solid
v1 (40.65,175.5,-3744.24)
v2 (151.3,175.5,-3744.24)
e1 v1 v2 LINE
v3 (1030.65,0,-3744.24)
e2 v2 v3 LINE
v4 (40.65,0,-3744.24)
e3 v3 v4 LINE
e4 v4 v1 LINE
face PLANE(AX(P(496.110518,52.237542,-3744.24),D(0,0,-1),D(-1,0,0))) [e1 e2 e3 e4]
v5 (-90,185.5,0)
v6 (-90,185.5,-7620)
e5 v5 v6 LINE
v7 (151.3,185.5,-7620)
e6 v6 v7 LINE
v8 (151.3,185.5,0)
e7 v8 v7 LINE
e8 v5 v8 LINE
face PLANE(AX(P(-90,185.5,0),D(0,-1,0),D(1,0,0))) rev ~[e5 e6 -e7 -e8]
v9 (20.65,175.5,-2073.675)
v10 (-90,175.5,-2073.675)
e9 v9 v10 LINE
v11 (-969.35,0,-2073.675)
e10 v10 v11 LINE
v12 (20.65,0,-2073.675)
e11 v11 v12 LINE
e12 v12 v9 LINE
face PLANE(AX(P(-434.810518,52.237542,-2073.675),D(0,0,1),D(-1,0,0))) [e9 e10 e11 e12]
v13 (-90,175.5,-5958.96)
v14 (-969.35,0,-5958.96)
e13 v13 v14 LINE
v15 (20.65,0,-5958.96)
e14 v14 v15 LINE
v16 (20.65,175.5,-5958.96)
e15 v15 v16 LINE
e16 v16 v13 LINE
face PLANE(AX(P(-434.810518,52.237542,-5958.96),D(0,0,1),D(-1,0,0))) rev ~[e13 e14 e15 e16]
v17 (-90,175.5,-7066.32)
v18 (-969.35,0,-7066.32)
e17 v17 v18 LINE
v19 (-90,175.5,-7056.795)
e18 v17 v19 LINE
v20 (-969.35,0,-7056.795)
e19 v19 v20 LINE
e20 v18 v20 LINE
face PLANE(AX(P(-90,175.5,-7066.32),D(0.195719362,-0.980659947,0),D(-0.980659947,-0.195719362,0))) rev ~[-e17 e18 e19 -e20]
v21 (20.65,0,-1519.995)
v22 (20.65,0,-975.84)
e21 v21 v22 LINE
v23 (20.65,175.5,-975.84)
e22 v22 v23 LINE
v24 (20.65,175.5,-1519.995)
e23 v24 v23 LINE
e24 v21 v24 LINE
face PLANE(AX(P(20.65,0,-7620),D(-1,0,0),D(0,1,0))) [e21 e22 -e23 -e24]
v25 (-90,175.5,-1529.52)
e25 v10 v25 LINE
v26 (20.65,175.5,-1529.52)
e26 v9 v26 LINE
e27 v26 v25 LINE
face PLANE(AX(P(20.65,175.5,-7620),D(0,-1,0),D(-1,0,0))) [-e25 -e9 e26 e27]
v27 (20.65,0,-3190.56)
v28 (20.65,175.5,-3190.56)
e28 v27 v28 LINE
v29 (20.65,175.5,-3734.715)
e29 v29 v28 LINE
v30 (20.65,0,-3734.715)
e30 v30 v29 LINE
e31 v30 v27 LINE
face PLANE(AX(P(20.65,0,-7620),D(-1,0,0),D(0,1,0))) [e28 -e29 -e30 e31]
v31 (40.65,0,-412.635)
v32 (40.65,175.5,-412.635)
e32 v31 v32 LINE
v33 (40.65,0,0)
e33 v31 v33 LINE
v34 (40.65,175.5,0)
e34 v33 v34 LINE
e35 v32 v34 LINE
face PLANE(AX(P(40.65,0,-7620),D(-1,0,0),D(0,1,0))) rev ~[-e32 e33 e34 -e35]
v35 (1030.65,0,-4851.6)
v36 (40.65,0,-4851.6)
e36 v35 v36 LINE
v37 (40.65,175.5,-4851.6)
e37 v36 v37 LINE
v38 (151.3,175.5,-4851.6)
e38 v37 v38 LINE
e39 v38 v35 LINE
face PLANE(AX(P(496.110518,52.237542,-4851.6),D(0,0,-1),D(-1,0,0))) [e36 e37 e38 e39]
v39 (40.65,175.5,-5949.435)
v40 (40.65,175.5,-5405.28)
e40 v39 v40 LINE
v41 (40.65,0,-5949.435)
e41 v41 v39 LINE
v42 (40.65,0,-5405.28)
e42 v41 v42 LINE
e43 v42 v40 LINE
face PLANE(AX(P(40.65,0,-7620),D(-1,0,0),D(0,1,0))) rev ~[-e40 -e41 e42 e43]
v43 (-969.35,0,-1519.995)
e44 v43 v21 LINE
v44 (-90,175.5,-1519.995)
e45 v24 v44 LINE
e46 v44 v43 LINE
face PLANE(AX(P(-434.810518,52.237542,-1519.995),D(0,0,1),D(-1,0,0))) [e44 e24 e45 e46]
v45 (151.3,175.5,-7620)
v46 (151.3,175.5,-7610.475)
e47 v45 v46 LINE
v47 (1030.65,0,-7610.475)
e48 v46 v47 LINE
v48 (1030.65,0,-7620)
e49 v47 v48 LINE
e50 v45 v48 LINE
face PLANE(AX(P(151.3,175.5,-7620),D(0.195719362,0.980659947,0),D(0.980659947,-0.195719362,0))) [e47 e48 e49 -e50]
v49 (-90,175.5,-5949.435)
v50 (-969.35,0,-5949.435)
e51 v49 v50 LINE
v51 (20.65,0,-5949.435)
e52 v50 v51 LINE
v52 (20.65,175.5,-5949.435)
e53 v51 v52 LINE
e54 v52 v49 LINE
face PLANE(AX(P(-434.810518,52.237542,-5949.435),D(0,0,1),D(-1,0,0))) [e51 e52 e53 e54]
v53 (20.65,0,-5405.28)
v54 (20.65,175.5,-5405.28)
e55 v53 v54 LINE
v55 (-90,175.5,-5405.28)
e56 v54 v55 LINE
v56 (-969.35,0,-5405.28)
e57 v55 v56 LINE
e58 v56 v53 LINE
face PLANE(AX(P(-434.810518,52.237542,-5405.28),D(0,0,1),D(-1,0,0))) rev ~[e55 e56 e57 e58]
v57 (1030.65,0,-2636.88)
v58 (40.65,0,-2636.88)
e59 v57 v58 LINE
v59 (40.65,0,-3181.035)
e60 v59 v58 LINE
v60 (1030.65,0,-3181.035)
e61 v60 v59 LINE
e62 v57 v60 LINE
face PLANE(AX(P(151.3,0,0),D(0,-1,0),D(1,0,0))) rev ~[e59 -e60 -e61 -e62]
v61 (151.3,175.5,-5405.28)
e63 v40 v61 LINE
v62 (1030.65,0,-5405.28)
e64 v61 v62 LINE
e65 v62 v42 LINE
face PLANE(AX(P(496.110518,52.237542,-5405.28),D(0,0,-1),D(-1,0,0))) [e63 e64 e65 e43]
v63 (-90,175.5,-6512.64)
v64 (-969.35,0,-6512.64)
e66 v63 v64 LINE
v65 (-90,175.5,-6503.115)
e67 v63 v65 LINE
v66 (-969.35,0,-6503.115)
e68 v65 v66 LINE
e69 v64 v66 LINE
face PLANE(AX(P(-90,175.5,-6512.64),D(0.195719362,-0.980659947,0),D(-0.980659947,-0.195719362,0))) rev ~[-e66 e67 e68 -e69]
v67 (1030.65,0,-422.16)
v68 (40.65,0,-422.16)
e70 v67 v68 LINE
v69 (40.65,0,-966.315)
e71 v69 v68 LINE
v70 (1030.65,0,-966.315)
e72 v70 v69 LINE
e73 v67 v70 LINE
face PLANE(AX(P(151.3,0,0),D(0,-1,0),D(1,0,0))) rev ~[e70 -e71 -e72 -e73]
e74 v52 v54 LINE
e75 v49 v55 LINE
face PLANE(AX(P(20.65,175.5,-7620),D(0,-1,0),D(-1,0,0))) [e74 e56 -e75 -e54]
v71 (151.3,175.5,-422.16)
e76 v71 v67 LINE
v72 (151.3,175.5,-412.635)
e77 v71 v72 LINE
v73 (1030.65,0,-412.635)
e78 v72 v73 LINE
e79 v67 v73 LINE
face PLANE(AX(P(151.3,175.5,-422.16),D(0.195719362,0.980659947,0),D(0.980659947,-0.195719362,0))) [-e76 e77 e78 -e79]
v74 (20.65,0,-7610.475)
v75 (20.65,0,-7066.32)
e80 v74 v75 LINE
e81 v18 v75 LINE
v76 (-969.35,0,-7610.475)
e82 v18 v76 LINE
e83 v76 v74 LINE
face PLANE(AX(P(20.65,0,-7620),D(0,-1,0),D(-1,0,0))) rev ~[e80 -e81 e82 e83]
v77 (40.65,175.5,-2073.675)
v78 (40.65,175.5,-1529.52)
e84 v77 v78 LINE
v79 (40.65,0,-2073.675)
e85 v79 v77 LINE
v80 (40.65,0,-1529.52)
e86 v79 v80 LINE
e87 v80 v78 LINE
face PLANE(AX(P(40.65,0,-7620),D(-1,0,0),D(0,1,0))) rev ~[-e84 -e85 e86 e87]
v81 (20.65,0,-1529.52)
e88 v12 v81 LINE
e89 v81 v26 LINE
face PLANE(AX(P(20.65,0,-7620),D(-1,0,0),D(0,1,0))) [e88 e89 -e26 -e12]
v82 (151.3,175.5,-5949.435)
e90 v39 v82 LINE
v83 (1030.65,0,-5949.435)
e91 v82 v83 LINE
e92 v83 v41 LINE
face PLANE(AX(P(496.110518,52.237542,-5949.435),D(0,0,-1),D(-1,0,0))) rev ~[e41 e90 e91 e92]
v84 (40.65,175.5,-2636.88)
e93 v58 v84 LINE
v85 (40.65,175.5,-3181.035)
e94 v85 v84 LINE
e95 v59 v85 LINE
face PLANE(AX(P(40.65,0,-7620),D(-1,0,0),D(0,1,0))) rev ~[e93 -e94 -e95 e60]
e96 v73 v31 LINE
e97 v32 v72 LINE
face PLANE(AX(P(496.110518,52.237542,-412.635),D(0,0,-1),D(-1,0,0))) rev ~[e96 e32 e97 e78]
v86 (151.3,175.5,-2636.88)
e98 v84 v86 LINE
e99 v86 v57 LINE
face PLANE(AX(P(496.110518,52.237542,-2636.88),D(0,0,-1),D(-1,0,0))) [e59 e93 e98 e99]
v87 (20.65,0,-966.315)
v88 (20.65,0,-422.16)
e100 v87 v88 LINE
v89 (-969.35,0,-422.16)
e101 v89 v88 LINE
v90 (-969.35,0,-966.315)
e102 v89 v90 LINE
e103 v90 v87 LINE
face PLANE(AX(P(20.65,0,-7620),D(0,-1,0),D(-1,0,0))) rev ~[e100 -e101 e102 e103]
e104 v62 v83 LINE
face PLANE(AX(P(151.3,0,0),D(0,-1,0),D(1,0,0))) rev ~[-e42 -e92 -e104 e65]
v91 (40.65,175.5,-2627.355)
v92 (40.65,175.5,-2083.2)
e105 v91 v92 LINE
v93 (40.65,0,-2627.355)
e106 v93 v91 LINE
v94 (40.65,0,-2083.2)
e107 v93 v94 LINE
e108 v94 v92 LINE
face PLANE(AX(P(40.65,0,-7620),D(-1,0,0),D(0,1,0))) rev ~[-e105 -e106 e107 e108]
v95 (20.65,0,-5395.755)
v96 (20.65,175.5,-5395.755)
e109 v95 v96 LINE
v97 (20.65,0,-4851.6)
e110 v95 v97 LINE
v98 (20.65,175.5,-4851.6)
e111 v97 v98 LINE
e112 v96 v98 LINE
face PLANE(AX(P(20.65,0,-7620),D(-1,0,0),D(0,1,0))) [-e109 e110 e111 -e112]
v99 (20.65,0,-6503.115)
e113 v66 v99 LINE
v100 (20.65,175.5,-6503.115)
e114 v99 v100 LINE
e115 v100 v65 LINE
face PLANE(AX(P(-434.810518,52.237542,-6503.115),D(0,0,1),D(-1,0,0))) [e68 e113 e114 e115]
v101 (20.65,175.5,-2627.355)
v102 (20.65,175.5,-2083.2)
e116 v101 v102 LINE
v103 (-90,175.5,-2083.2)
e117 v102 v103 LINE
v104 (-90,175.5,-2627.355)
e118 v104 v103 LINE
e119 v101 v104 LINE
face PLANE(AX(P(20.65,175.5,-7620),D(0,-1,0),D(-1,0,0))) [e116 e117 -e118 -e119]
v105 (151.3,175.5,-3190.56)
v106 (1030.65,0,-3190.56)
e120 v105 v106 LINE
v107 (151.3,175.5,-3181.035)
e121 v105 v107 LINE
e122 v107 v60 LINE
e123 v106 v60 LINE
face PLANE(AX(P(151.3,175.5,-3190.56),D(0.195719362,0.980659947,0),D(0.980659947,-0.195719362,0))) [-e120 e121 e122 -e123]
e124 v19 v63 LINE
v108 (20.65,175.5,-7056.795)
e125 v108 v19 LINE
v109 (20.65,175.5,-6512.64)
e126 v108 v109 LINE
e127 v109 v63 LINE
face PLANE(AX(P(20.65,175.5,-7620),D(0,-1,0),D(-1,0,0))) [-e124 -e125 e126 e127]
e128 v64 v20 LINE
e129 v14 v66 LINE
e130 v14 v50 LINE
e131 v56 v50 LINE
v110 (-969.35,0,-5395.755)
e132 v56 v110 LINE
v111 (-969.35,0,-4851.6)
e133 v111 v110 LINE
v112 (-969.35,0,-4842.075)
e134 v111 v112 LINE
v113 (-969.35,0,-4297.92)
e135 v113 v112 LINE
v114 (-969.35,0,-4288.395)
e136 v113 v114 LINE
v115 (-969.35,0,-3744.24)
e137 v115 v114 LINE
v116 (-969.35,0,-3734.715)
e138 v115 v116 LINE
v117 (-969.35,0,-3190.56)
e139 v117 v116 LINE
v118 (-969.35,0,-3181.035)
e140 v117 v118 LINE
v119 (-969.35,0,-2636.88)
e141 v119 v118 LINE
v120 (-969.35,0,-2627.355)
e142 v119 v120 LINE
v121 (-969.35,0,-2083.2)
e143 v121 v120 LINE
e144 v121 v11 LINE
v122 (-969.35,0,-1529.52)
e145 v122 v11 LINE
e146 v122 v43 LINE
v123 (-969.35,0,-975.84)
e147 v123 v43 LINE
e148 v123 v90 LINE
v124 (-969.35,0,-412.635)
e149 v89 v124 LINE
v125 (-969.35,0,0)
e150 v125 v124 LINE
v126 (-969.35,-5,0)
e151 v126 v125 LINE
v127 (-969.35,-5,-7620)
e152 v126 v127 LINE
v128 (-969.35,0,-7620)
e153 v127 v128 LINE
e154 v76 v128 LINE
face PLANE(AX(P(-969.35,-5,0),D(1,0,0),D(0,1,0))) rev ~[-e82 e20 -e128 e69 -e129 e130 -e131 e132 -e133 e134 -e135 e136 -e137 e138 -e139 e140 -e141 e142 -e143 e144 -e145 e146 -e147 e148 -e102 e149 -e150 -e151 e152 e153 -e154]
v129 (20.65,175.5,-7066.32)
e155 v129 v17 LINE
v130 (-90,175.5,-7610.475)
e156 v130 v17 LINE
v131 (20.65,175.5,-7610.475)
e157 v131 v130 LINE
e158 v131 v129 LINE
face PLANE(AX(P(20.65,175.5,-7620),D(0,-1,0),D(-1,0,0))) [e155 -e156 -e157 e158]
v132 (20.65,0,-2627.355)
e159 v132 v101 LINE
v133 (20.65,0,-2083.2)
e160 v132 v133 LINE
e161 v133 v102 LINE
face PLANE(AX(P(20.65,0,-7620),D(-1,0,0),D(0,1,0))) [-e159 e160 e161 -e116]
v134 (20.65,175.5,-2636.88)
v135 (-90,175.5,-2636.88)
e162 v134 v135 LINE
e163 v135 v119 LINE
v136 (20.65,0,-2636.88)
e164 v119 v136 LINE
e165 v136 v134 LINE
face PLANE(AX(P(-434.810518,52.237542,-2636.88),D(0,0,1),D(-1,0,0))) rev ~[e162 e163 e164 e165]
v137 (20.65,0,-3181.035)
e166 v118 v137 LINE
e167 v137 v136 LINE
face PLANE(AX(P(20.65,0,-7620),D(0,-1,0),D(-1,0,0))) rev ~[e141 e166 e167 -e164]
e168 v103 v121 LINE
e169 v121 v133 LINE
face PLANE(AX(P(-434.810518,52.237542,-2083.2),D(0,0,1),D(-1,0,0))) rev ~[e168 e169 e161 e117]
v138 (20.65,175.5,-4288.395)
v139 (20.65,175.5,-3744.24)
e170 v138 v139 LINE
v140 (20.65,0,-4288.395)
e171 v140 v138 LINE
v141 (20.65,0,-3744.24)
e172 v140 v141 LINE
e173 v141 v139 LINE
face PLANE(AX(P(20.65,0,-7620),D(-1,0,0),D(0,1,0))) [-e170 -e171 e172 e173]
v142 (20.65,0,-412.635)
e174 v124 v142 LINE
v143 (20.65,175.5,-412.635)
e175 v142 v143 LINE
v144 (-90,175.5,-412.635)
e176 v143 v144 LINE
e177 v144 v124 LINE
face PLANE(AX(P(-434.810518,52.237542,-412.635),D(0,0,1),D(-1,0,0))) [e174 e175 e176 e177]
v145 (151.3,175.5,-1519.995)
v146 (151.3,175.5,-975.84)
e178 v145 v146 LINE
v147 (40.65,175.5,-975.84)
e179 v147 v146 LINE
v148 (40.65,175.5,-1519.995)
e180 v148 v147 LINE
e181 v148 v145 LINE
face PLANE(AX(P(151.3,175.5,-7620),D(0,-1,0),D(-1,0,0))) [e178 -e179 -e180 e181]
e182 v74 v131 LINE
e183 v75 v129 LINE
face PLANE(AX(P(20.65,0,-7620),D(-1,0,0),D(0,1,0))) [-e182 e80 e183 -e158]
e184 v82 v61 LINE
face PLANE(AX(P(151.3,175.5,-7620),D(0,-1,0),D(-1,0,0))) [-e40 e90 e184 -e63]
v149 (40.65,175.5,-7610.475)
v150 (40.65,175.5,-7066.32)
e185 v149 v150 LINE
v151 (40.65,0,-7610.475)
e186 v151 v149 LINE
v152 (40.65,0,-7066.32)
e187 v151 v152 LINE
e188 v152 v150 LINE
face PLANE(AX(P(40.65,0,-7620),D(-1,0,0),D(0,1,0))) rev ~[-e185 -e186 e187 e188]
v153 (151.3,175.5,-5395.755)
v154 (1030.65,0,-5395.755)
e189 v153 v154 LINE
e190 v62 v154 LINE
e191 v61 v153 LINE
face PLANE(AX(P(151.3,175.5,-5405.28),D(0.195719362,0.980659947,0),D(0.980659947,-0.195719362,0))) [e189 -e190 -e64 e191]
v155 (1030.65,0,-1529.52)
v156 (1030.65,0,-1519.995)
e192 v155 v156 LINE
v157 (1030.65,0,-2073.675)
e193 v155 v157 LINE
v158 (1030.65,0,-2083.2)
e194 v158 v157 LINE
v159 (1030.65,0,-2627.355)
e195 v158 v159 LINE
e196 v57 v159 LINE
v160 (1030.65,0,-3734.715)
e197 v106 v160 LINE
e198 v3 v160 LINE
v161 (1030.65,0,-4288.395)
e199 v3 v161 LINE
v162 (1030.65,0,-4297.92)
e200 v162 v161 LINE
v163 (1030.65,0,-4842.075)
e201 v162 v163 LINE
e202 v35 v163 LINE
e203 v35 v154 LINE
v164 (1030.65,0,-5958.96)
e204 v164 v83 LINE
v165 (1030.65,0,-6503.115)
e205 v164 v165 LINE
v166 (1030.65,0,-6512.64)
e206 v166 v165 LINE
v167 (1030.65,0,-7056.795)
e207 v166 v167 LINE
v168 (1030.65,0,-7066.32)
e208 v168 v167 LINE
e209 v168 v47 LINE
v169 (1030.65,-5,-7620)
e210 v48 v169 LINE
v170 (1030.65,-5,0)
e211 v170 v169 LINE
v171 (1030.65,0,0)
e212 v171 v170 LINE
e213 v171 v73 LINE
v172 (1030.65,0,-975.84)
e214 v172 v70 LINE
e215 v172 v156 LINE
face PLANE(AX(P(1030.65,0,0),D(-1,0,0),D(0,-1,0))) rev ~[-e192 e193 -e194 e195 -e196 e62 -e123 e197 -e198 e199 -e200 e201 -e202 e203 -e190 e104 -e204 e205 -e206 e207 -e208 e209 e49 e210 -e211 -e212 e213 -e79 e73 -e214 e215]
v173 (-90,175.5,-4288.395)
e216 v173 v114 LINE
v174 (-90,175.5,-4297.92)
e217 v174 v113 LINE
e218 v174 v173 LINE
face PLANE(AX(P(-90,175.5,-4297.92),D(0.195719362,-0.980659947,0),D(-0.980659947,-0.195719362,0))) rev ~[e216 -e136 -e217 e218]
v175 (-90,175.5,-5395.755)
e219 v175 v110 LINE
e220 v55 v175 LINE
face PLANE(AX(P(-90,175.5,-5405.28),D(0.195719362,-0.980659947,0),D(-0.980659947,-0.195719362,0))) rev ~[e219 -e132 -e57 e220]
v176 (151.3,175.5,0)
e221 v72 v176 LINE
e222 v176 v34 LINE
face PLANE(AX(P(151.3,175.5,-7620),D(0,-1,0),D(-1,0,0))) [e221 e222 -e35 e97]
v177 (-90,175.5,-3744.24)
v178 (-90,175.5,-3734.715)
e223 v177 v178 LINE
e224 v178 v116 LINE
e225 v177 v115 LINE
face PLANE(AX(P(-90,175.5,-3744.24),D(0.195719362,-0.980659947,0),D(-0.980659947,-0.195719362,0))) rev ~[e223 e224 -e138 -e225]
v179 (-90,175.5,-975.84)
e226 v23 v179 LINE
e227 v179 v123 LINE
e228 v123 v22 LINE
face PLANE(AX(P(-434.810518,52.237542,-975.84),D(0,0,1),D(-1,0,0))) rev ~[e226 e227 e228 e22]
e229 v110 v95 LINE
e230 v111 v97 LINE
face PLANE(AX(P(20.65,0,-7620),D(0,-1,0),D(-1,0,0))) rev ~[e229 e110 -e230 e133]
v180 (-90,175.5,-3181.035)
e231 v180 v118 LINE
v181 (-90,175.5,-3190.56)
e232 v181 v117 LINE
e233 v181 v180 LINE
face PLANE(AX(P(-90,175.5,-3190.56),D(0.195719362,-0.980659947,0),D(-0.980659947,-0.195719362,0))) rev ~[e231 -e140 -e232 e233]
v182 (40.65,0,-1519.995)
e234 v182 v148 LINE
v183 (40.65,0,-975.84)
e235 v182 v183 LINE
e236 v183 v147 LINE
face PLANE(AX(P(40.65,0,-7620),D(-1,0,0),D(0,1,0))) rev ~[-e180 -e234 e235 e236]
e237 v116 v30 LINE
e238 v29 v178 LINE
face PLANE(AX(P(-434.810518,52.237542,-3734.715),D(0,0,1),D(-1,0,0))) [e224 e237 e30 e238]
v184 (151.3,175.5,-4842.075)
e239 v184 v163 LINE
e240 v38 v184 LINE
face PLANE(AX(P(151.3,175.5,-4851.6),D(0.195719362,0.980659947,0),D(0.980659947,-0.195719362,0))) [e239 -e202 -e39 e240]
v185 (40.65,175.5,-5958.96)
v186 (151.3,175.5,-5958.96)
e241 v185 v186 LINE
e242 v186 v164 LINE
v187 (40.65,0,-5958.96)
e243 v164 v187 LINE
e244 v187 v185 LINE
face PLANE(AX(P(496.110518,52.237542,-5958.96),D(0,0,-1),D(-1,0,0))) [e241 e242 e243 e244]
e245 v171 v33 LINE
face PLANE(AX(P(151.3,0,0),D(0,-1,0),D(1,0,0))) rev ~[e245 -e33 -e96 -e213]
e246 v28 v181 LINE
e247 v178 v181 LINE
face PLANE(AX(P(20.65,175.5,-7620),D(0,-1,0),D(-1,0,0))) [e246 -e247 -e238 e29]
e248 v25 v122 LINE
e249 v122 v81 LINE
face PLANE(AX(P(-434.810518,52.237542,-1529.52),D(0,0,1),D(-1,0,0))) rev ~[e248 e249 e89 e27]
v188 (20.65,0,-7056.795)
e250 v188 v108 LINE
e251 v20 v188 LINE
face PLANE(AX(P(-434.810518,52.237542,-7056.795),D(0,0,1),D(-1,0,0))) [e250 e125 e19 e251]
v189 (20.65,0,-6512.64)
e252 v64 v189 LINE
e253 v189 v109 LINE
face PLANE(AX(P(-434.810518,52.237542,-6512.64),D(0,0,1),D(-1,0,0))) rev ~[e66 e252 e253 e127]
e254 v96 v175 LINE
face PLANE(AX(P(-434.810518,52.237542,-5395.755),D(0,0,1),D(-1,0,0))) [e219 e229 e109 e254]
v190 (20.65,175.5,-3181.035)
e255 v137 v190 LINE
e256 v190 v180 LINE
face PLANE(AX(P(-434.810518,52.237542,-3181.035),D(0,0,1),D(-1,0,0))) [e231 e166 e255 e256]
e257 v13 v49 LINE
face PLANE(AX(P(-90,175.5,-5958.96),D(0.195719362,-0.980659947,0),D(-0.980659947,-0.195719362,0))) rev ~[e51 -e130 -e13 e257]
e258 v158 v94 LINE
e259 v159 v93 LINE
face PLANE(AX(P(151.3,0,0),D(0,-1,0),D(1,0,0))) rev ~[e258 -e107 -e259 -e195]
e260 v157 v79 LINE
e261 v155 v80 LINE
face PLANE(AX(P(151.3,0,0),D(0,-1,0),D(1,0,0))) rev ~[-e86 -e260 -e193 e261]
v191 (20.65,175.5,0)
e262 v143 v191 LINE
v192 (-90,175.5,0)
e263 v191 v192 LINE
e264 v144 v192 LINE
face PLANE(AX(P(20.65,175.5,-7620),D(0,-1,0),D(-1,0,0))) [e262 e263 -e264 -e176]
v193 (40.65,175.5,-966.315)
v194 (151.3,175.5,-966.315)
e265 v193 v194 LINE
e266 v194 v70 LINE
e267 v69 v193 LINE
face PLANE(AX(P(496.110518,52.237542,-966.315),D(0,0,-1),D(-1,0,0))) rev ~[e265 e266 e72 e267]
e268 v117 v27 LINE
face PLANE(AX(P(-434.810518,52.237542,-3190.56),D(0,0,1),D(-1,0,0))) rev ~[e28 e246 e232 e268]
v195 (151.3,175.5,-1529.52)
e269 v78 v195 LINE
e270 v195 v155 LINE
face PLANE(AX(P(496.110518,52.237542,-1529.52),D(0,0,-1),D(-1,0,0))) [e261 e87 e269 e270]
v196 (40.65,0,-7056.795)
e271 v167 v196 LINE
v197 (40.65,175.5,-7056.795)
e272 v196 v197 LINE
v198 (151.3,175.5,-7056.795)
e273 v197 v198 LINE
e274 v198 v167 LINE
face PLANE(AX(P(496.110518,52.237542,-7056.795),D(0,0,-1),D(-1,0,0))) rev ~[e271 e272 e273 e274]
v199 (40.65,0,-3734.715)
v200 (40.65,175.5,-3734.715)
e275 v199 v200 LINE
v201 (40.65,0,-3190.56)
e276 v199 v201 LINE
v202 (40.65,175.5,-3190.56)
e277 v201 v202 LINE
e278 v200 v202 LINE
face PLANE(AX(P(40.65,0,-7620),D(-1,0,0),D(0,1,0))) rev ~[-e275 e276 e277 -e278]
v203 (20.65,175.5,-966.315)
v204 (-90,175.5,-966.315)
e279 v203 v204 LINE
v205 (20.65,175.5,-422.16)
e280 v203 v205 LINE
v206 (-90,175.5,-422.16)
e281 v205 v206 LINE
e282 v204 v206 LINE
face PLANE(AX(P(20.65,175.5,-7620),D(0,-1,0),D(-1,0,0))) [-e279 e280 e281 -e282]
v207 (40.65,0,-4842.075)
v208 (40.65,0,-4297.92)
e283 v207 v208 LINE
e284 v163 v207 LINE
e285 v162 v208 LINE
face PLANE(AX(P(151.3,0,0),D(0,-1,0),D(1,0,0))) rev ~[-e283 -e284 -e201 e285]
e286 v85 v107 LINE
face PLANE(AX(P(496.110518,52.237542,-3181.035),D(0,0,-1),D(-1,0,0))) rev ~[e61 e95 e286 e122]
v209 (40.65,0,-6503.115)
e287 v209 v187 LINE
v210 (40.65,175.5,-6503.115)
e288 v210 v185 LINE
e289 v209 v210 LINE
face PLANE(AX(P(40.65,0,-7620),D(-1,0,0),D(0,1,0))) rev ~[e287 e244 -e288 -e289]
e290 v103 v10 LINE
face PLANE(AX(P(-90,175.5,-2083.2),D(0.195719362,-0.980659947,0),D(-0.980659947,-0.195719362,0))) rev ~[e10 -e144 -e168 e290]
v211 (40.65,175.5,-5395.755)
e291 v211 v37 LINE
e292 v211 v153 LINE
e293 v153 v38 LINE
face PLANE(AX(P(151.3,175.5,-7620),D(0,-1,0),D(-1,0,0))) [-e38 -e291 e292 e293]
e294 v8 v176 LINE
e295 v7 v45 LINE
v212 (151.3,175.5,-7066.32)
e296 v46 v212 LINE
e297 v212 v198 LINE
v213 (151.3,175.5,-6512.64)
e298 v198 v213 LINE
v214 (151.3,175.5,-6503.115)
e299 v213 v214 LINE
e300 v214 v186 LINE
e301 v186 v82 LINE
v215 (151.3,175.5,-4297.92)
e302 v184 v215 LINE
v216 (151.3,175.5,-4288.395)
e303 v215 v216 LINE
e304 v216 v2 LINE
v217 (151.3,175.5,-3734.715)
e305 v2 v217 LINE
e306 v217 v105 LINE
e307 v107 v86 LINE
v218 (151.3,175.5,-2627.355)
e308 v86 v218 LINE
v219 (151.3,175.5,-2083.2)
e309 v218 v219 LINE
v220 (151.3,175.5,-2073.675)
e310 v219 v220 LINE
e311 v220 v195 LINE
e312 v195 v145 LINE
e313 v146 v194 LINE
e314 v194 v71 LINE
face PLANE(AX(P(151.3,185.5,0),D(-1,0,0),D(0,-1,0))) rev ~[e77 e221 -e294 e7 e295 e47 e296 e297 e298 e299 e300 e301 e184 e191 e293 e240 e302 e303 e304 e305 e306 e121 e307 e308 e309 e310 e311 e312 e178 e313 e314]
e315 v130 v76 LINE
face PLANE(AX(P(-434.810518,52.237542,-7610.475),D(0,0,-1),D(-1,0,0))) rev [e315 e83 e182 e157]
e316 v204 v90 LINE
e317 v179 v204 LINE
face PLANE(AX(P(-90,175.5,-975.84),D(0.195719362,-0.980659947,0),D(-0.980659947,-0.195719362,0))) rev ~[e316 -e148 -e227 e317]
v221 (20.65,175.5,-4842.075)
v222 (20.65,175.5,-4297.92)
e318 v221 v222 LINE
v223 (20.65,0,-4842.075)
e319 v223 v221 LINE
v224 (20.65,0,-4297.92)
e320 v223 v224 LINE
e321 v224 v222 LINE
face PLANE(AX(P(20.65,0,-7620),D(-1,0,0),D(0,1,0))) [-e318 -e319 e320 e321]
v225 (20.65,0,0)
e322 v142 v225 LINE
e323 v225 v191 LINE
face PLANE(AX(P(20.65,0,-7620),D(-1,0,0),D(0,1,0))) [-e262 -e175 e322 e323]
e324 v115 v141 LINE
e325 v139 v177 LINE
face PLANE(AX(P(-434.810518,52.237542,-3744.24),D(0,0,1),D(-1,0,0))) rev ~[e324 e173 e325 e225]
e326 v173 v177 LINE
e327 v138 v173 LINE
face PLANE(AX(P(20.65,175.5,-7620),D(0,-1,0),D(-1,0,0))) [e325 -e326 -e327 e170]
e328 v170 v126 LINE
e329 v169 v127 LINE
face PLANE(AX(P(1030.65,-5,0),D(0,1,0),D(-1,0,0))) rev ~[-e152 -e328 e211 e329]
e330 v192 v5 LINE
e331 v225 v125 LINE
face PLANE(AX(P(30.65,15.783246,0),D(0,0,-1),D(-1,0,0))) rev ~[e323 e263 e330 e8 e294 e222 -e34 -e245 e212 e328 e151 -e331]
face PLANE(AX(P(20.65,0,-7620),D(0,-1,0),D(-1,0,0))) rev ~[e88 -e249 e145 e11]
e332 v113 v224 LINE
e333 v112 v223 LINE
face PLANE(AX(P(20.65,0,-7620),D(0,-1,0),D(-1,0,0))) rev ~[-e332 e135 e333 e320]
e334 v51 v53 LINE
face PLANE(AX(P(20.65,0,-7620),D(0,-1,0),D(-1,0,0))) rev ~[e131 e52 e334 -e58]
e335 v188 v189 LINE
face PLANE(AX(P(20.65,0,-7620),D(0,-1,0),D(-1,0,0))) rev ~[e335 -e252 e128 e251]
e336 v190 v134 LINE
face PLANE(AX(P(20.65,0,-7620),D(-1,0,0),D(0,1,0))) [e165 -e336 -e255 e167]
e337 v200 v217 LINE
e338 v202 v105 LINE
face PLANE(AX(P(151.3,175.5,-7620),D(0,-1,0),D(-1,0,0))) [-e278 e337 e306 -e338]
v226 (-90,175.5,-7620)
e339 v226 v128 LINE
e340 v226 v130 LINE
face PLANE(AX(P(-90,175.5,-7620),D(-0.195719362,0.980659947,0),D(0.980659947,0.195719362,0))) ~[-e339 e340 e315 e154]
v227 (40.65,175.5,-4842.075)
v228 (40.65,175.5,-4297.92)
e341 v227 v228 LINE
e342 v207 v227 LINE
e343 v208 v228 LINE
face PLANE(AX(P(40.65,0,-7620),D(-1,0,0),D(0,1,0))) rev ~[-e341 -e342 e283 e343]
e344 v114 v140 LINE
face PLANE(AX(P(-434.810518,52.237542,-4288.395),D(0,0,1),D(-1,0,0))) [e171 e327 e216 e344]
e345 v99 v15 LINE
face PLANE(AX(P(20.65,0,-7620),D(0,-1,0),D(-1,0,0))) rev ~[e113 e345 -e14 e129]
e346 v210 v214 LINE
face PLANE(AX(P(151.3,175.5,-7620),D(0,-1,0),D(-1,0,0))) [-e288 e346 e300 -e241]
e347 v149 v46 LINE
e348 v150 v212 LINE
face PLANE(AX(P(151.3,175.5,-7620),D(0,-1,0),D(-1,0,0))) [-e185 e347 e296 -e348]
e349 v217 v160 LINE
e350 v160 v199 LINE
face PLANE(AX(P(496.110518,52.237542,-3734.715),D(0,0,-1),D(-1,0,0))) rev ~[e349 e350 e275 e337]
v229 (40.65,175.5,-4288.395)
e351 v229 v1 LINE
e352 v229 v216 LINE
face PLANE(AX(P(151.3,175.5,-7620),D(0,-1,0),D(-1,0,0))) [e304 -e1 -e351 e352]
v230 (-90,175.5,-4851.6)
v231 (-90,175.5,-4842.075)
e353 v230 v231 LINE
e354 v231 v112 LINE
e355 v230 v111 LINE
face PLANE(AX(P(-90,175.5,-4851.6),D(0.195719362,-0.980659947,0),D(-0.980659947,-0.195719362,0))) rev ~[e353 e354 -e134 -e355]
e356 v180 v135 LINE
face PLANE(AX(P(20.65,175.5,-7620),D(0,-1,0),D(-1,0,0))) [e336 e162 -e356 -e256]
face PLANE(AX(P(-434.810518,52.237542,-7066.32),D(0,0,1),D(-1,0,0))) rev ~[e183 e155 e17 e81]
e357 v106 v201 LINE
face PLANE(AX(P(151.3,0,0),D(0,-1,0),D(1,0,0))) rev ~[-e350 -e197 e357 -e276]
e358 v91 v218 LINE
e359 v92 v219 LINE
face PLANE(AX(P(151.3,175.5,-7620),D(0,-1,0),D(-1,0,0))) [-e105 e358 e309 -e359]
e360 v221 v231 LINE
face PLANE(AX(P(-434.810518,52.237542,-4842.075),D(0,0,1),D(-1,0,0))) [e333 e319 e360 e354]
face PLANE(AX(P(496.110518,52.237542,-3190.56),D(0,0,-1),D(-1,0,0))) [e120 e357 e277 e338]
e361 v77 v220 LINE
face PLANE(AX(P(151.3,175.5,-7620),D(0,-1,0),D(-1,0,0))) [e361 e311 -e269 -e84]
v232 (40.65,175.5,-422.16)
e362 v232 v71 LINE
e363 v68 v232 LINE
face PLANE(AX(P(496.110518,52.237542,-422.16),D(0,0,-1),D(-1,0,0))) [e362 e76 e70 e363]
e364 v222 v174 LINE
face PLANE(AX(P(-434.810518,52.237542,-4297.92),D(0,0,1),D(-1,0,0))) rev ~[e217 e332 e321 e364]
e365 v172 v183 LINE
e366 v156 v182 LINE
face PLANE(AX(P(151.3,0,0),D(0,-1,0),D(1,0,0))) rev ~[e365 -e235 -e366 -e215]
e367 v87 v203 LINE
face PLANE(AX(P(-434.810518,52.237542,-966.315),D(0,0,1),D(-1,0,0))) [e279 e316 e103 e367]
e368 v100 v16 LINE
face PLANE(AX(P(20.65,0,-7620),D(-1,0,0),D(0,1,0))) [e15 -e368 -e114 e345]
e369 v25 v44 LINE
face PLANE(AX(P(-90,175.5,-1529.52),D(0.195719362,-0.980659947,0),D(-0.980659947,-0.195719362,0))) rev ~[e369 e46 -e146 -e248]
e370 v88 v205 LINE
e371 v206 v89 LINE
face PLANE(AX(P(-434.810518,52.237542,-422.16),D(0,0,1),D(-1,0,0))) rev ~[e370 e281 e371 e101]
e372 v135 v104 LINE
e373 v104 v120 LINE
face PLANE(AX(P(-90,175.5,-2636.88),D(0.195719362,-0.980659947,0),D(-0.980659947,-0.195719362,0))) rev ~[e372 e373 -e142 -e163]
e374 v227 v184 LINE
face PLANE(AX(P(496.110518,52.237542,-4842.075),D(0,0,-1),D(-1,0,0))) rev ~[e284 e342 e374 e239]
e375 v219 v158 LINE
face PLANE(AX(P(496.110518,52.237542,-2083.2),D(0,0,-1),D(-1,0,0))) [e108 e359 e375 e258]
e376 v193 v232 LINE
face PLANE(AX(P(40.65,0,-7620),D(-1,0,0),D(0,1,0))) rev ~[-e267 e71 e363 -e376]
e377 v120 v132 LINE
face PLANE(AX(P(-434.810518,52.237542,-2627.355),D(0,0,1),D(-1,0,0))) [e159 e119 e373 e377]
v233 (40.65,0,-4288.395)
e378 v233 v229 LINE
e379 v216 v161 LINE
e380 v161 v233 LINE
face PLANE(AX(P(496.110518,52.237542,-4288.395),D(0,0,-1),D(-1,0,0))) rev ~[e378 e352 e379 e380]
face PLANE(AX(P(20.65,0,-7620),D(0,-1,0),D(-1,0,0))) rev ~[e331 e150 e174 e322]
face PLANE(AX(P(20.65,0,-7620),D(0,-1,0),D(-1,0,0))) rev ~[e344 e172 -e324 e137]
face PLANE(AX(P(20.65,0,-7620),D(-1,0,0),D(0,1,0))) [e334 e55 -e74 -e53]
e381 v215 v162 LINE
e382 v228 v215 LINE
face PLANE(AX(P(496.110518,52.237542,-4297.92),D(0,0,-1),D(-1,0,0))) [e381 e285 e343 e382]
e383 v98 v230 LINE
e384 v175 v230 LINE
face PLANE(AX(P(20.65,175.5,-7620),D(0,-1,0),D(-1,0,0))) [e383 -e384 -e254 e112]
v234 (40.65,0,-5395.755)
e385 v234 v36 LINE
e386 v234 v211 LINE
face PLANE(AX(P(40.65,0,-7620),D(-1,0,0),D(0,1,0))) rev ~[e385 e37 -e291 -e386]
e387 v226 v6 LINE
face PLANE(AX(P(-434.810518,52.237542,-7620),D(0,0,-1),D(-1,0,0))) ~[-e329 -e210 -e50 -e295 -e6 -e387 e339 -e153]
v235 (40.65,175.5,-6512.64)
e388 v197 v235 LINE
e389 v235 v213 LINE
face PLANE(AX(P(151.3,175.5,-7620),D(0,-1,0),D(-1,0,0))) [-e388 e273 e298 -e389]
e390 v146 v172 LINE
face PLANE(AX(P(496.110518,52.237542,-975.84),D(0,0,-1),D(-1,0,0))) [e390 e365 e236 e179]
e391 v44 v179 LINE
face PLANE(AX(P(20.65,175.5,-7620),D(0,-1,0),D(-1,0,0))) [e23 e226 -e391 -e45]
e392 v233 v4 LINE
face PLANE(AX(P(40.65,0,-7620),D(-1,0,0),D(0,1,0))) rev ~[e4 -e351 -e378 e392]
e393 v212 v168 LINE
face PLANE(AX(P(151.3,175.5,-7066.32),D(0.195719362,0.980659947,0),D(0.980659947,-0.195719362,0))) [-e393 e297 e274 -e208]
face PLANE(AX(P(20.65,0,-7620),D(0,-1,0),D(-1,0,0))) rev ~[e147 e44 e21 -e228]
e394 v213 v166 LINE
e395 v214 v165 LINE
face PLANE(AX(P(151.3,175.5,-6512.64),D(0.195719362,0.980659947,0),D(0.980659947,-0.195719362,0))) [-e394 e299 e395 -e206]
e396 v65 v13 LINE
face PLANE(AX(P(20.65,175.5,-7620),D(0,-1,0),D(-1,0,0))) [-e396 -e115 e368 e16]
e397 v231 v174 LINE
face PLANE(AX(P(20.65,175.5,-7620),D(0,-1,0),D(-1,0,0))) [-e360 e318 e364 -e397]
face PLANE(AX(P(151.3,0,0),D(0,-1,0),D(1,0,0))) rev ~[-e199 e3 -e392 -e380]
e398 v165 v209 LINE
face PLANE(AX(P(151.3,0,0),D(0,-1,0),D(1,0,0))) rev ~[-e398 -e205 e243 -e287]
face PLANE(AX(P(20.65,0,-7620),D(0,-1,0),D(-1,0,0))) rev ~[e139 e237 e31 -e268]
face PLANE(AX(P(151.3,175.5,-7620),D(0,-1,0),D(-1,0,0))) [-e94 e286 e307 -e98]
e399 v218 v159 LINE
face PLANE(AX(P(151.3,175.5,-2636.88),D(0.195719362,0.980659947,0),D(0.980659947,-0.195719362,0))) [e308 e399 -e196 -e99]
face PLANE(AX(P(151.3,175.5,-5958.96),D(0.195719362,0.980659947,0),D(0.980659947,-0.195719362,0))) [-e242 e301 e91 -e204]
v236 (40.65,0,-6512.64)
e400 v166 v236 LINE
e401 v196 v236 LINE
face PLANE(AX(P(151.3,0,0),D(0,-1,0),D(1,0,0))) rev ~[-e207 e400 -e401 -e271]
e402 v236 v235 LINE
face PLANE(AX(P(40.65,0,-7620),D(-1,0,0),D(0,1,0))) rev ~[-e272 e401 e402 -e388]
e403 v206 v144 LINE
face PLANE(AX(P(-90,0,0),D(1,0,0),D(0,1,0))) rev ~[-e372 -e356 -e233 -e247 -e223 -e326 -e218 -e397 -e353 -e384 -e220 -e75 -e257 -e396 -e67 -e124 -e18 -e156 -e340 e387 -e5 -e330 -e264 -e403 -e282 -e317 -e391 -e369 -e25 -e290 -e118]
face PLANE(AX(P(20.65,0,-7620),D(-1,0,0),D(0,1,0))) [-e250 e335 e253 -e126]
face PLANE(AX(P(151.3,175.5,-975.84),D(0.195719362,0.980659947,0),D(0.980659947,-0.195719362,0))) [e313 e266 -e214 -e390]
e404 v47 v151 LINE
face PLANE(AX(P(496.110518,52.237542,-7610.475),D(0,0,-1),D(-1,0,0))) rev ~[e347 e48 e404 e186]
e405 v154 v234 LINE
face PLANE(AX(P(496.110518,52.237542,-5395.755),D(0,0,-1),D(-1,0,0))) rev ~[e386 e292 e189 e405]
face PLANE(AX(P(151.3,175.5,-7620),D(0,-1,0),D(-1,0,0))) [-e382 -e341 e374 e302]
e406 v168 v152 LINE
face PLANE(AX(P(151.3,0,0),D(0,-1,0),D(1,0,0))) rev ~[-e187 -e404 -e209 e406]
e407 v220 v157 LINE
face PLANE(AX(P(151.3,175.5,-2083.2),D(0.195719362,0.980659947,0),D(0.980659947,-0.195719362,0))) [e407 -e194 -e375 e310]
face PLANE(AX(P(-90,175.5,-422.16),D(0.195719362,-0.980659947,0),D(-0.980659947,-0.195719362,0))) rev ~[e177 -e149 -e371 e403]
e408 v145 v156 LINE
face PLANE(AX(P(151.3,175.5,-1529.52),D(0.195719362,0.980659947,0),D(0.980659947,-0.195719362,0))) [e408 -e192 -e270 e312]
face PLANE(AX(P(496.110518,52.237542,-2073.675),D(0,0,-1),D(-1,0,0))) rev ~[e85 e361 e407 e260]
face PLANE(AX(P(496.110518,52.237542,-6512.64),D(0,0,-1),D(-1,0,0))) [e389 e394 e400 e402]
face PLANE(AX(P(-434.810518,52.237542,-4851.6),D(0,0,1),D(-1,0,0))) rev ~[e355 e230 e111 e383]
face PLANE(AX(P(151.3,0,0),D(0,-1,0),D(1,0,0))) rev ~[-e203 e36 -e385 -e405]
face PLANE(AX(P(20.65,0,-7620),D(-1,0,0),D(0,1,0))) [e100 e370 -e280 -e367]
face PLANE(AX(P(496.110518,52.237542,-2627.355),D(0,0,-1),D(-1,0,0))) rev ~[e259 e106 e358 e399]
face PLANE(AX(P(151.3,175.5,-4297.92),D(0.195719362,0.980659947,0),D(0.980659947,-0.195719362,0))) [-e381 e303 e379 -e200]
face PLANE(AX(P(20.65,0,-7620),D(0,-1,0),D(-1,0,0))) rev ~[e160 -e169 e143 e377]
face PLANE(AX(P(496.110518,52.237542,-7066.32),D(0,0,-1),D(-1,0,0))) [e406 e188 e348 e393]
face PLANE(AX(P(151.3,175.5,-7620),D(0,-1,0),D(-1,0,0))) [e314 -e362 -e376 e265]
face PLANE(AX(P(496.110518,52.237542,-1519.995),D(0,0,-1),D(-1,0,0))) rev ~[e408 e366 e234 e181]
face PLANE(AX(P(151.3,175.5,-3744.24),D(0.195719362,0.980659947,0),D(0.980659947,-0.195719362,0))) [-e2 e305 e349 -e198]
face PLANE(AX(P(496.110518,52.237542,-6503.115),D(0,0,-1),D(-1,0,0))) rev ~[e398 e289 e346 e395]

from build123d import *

# Parameters (mm, degrees)
BOSS_EXTRUDE1_DEPTH   = 7620
SKETCH7_W             = 110.65
SKETCH7_H             = 175.5
CUT_EXTRUDE3_DEPTH    = 7692.622044309
BOSS_EXTRUDE3_DEPTH   = 9.525
LPATTERN2_COUNT       = 14
LPATTERN2_PITCH       = 553.68
MIRROR2_COPY_1_DEPTH  = 9.525
MIRROR2_COPY_2_DEPTH  = 9.525
MIRROR2_COPY_3_DEPTH  = 9.525
MIRROR2_COPY_4_DEPTH  = 9.525
MIRROR2_COPY_5_DEPTH  = 9.525
MIRROR2_COPY_6_DEPTH  = 9.525
MIRROR2_COPY_7_DEPTH  = 9.525
MIRROR2_COPY_8_DEPTH  = 9.525
MIRROR2_COPY_9_DEPTH  = 9.525
MIRROR2_COPY_10_DEPTH = 9.525
MIRROR2_COPY_11_DEPTH = 9.525
MIRROR2_COPY_12_DEPTH = 9.525
MIRROR2_COPY_13_DEPTH = 9.525


with BuildPart() as part:
    # Sketch1 → Boss-Extrude1 (new body)
    with BuildSketch(Plane.XY):
        Polygon((-90, 185.5), (151.3, 185.5), (151.3, 0), (1030.65, 0), (1030.65, -5), (-969.35, -5), (-969.35, 0), (-90, 0), align=None)
    extrude(amount=-BOSS_EXTRUDE1_DEPTH)

    # Sketch7 → Cut-Extrude3 (cut, through all)
    with BuildSketch(Plane(origin=(0, 0, -7620), x_dir=(-1, 0, 0), z_dir=(0, 0, -1))):
        with Locations((-95.975, 87.75)):
            Rectangle(SKETCH7_W, SKETCH7_H)
        with Locations((34.675, 87.75)):
            Rectangle(SKETCH7_W, SKETCH7_H)
    extrude(amount=-CUT_EXTRUDE3_DEPTH, mode=Mode.SUBTRACT)

    # Sketch8 → Boss-Extrude3 (add)
    with BuildSketch(Plane(origin=(0, 0, -7620), x_dir=(-1, 0, 0), z_dir=(0, 0, -1))):
        Polygon((-40.65, 0), (-40.65, 175.5), (-151.3, 175.5), (-1030.65, 0), align=None)
    boss_extrude3 = extrude(amount=-BOSS_EXTRUDE3_DEPTH)

    # LPattern2: Boss-Extrude3 ×14
    with Locations(*[(0, 0, i * LPATTERN2_PITCH) for i in range(1, LPATTERN2_COUNT)]):
        add(boss_extrude3)

    # Mirror2: Boss-Extrude3 across plane
    add(boss_extrude3.mirror(Plane(origin=(30.65, 0, 0), x_dir=(0, 0, 1), z_dir=(1, 0, 0))))

    # Mirror2 copy 1 sketch → Mirror2 copy 1 (add)
    with BuildSketch(Plane(origin=(61.3, 0, -7066.32), x_dir=(1, 0, 0), z_dir=(0, 0, -1))):
        Polygon((-40.65, 0), (-40.65, -175.5), (-151.3, -175.5), (-1030.65, 0), align=None)
    extrude(amount=-MIRROR2_COPY_1_DEPTH)

    # Mirror2 copy 2 sketch → Mirror2 copy 2 (add)
    with BuildSketch(Plane(origin=(61.3, 0, -6512.64), x_dir=(1, 0, 0), z_dir=(0, 0, -1))):
        Polygon((-40.65, 0), (-40.65, -175.5), (-151.3, -175.5), (-1030.65, 0), align=None)
    extrude(amount=-MIRROR2_COPY_2_DEPTH)

    # Mirror2 copy 3 sketch → Mirror2 copy 3 (add)
    with BuildSketch(Plane(origin=(61.3, 0, -5958.96), x_dir=(1, 0, 0), z_dir=(0, 0, -1))):
        Polygon((-40.65, 0), (-40.65, -175.5), (-151.3, -175.5), (-1030.65, 0), align=None)
    extrude(amount=-MIRROR2_COPY_3_DEPTH)

    # Mirror2 copy 4 sketch → Mirror2 copy 4 (add)
    with BuildSketch(Plane(origin=(61.3, 0, -5405.28), x_dir=(1, 0, 0), z_dir=(0, 0, -1))):
        Polygon((-40.65, 0), (-40.65, -175.5), (-151.3, -175.5), (-1030.65, 0), align=None)
    extrude(amount=-MIRROR2_COPY_4_DEPTH)

    # Mirror2 copy 5 sketch → Mirror2 copy 5 (add)
    with BuildSketch(Plane(origin=(61.3, 0, -4851.6), x_dir=(1, 0, 0), z_dir=(0, 0, -1))):
        Polygon((-40.65, 0), (-40.65, -175.5), (-151.3, -175.5), (-1030.65, 0), align=None)
    extrude(amount=-MIRROR2_COPY_5_DEPTH)

    # Mirror2 copy 6 sketch → Mirror2 copy 6 (add)
    with BuildSketch(Plane(origin=(61.3, 0, -4297.92), x_dir=(1, 0, 0), z_dir=(0, 0, -1))):
        Polygon((-40.65, 0), (-40.65, -175.5), (-151.3, -175.5), (-1030.65, 0), align=None)
    extrude(amount=-MIRROR2_COPY_6_DEPTH)

    # Mirror2 copy 7 sketch → Mirror2 copy 7 (add)
    with BuildSketch(Plane(origin=(61.3, 0, -3744.24), x_dir=(1, 0, 0), z_dir=(0, 0, -1))):
        Polygon((-40.65, 0), (-40.65, -175.5), (-151.3, -175.5), (-1030.65, 0), align=None)
    extrude(amount=-MIRROR2_COPY_7_DEPTH)

    # Mirror2 copy 8 sketch → Mirror2 copy 8 (add)
    with BuildSketch(Plane(origin=(61.3, 0, -3190.56), x_dir=(1, 0, 0), z_dir=(0, 0, -1))):
        Polygon((-40.65, 0), (-40.65, -175.5), (-151.3, -175.5), (-1030.65, 0), align=None)
    extrude(amount=-MIRROR2_COPY_8_DEPTH)

    # Mirror2 copy 9 sketch → Mirror2 copy 9 (add)
    with BuildSketch(Plane(origin=(61.3, 0, -2636.88), x_dir=(1, 0, 0), z_dir=(0, 0, -1))):
        Polygon((-40.65, 0), (-40.65, -175.5), (-151.3, -175.5), (-1030.65, 0), align=None)
    extrude(amount=-MIRROR2_COPY_9_DEPTH)

    # Mirror2 copy 10 sketch → Mirror2 copy 10 (add)
    with BuildSketch(Plane(origin=(61.3, 0, -2083.2), x_dir=(1, 0, 0), z_dir=(0, 0, -1))):
        Polygon((-40.65, 0), (-40.65, -175.5), (-151.3, -175.5), (-1030.65, 0), align=None)
    extrude(amount=-MIRROR2_COPY_10_DEPTH)

    # Mirror2 copy 11 sketch → Mirror2 copy 11 (add)
    with BuildSketch(Plane(origin=(61.3, 0, -1529.52), x_dir=(1, 0, 0), z_dir=(0, 0, -1))):
        Polygon((-40.65, 0), (-40.65, -175.5), (-151.3, -175.5), (-1030.65, 0), align=None)
    extrude(amount=-MIRROR2_COPY_11_DEPTH)

    # Mirror2 copy 12 sketch → Mirror2 copy 12 (add)
    with BuildSketch(Plane(origin=(61.3, 0, -975.84), x_dir=(1, 0, 0), z_dir=(0, 0, -1))):
        Polygon((-40.65, 0), (-40.65, -175.5), (-151.3, -175.5), (-1030.65, 0), align=None)
    extrude(amount=-MIRROR2_COPY_12_DEPTH)

    # Mirror2 copy 13 sketch → Mirror2 copy 13 (add)
    with BuildSketch(Plane(origin=(61.3, 0, -422.16), x_dir=(1, 0, 0), z_dir=(0, 0, -1))):
        Polygon((-40.65, 0), (-40.65, -175.5), (-151.3, -175.5), (-1030.65, 0), align=None)
    extrude(amount=-MIRROR2_COPY_13_DEPTH)


solid = part.part
